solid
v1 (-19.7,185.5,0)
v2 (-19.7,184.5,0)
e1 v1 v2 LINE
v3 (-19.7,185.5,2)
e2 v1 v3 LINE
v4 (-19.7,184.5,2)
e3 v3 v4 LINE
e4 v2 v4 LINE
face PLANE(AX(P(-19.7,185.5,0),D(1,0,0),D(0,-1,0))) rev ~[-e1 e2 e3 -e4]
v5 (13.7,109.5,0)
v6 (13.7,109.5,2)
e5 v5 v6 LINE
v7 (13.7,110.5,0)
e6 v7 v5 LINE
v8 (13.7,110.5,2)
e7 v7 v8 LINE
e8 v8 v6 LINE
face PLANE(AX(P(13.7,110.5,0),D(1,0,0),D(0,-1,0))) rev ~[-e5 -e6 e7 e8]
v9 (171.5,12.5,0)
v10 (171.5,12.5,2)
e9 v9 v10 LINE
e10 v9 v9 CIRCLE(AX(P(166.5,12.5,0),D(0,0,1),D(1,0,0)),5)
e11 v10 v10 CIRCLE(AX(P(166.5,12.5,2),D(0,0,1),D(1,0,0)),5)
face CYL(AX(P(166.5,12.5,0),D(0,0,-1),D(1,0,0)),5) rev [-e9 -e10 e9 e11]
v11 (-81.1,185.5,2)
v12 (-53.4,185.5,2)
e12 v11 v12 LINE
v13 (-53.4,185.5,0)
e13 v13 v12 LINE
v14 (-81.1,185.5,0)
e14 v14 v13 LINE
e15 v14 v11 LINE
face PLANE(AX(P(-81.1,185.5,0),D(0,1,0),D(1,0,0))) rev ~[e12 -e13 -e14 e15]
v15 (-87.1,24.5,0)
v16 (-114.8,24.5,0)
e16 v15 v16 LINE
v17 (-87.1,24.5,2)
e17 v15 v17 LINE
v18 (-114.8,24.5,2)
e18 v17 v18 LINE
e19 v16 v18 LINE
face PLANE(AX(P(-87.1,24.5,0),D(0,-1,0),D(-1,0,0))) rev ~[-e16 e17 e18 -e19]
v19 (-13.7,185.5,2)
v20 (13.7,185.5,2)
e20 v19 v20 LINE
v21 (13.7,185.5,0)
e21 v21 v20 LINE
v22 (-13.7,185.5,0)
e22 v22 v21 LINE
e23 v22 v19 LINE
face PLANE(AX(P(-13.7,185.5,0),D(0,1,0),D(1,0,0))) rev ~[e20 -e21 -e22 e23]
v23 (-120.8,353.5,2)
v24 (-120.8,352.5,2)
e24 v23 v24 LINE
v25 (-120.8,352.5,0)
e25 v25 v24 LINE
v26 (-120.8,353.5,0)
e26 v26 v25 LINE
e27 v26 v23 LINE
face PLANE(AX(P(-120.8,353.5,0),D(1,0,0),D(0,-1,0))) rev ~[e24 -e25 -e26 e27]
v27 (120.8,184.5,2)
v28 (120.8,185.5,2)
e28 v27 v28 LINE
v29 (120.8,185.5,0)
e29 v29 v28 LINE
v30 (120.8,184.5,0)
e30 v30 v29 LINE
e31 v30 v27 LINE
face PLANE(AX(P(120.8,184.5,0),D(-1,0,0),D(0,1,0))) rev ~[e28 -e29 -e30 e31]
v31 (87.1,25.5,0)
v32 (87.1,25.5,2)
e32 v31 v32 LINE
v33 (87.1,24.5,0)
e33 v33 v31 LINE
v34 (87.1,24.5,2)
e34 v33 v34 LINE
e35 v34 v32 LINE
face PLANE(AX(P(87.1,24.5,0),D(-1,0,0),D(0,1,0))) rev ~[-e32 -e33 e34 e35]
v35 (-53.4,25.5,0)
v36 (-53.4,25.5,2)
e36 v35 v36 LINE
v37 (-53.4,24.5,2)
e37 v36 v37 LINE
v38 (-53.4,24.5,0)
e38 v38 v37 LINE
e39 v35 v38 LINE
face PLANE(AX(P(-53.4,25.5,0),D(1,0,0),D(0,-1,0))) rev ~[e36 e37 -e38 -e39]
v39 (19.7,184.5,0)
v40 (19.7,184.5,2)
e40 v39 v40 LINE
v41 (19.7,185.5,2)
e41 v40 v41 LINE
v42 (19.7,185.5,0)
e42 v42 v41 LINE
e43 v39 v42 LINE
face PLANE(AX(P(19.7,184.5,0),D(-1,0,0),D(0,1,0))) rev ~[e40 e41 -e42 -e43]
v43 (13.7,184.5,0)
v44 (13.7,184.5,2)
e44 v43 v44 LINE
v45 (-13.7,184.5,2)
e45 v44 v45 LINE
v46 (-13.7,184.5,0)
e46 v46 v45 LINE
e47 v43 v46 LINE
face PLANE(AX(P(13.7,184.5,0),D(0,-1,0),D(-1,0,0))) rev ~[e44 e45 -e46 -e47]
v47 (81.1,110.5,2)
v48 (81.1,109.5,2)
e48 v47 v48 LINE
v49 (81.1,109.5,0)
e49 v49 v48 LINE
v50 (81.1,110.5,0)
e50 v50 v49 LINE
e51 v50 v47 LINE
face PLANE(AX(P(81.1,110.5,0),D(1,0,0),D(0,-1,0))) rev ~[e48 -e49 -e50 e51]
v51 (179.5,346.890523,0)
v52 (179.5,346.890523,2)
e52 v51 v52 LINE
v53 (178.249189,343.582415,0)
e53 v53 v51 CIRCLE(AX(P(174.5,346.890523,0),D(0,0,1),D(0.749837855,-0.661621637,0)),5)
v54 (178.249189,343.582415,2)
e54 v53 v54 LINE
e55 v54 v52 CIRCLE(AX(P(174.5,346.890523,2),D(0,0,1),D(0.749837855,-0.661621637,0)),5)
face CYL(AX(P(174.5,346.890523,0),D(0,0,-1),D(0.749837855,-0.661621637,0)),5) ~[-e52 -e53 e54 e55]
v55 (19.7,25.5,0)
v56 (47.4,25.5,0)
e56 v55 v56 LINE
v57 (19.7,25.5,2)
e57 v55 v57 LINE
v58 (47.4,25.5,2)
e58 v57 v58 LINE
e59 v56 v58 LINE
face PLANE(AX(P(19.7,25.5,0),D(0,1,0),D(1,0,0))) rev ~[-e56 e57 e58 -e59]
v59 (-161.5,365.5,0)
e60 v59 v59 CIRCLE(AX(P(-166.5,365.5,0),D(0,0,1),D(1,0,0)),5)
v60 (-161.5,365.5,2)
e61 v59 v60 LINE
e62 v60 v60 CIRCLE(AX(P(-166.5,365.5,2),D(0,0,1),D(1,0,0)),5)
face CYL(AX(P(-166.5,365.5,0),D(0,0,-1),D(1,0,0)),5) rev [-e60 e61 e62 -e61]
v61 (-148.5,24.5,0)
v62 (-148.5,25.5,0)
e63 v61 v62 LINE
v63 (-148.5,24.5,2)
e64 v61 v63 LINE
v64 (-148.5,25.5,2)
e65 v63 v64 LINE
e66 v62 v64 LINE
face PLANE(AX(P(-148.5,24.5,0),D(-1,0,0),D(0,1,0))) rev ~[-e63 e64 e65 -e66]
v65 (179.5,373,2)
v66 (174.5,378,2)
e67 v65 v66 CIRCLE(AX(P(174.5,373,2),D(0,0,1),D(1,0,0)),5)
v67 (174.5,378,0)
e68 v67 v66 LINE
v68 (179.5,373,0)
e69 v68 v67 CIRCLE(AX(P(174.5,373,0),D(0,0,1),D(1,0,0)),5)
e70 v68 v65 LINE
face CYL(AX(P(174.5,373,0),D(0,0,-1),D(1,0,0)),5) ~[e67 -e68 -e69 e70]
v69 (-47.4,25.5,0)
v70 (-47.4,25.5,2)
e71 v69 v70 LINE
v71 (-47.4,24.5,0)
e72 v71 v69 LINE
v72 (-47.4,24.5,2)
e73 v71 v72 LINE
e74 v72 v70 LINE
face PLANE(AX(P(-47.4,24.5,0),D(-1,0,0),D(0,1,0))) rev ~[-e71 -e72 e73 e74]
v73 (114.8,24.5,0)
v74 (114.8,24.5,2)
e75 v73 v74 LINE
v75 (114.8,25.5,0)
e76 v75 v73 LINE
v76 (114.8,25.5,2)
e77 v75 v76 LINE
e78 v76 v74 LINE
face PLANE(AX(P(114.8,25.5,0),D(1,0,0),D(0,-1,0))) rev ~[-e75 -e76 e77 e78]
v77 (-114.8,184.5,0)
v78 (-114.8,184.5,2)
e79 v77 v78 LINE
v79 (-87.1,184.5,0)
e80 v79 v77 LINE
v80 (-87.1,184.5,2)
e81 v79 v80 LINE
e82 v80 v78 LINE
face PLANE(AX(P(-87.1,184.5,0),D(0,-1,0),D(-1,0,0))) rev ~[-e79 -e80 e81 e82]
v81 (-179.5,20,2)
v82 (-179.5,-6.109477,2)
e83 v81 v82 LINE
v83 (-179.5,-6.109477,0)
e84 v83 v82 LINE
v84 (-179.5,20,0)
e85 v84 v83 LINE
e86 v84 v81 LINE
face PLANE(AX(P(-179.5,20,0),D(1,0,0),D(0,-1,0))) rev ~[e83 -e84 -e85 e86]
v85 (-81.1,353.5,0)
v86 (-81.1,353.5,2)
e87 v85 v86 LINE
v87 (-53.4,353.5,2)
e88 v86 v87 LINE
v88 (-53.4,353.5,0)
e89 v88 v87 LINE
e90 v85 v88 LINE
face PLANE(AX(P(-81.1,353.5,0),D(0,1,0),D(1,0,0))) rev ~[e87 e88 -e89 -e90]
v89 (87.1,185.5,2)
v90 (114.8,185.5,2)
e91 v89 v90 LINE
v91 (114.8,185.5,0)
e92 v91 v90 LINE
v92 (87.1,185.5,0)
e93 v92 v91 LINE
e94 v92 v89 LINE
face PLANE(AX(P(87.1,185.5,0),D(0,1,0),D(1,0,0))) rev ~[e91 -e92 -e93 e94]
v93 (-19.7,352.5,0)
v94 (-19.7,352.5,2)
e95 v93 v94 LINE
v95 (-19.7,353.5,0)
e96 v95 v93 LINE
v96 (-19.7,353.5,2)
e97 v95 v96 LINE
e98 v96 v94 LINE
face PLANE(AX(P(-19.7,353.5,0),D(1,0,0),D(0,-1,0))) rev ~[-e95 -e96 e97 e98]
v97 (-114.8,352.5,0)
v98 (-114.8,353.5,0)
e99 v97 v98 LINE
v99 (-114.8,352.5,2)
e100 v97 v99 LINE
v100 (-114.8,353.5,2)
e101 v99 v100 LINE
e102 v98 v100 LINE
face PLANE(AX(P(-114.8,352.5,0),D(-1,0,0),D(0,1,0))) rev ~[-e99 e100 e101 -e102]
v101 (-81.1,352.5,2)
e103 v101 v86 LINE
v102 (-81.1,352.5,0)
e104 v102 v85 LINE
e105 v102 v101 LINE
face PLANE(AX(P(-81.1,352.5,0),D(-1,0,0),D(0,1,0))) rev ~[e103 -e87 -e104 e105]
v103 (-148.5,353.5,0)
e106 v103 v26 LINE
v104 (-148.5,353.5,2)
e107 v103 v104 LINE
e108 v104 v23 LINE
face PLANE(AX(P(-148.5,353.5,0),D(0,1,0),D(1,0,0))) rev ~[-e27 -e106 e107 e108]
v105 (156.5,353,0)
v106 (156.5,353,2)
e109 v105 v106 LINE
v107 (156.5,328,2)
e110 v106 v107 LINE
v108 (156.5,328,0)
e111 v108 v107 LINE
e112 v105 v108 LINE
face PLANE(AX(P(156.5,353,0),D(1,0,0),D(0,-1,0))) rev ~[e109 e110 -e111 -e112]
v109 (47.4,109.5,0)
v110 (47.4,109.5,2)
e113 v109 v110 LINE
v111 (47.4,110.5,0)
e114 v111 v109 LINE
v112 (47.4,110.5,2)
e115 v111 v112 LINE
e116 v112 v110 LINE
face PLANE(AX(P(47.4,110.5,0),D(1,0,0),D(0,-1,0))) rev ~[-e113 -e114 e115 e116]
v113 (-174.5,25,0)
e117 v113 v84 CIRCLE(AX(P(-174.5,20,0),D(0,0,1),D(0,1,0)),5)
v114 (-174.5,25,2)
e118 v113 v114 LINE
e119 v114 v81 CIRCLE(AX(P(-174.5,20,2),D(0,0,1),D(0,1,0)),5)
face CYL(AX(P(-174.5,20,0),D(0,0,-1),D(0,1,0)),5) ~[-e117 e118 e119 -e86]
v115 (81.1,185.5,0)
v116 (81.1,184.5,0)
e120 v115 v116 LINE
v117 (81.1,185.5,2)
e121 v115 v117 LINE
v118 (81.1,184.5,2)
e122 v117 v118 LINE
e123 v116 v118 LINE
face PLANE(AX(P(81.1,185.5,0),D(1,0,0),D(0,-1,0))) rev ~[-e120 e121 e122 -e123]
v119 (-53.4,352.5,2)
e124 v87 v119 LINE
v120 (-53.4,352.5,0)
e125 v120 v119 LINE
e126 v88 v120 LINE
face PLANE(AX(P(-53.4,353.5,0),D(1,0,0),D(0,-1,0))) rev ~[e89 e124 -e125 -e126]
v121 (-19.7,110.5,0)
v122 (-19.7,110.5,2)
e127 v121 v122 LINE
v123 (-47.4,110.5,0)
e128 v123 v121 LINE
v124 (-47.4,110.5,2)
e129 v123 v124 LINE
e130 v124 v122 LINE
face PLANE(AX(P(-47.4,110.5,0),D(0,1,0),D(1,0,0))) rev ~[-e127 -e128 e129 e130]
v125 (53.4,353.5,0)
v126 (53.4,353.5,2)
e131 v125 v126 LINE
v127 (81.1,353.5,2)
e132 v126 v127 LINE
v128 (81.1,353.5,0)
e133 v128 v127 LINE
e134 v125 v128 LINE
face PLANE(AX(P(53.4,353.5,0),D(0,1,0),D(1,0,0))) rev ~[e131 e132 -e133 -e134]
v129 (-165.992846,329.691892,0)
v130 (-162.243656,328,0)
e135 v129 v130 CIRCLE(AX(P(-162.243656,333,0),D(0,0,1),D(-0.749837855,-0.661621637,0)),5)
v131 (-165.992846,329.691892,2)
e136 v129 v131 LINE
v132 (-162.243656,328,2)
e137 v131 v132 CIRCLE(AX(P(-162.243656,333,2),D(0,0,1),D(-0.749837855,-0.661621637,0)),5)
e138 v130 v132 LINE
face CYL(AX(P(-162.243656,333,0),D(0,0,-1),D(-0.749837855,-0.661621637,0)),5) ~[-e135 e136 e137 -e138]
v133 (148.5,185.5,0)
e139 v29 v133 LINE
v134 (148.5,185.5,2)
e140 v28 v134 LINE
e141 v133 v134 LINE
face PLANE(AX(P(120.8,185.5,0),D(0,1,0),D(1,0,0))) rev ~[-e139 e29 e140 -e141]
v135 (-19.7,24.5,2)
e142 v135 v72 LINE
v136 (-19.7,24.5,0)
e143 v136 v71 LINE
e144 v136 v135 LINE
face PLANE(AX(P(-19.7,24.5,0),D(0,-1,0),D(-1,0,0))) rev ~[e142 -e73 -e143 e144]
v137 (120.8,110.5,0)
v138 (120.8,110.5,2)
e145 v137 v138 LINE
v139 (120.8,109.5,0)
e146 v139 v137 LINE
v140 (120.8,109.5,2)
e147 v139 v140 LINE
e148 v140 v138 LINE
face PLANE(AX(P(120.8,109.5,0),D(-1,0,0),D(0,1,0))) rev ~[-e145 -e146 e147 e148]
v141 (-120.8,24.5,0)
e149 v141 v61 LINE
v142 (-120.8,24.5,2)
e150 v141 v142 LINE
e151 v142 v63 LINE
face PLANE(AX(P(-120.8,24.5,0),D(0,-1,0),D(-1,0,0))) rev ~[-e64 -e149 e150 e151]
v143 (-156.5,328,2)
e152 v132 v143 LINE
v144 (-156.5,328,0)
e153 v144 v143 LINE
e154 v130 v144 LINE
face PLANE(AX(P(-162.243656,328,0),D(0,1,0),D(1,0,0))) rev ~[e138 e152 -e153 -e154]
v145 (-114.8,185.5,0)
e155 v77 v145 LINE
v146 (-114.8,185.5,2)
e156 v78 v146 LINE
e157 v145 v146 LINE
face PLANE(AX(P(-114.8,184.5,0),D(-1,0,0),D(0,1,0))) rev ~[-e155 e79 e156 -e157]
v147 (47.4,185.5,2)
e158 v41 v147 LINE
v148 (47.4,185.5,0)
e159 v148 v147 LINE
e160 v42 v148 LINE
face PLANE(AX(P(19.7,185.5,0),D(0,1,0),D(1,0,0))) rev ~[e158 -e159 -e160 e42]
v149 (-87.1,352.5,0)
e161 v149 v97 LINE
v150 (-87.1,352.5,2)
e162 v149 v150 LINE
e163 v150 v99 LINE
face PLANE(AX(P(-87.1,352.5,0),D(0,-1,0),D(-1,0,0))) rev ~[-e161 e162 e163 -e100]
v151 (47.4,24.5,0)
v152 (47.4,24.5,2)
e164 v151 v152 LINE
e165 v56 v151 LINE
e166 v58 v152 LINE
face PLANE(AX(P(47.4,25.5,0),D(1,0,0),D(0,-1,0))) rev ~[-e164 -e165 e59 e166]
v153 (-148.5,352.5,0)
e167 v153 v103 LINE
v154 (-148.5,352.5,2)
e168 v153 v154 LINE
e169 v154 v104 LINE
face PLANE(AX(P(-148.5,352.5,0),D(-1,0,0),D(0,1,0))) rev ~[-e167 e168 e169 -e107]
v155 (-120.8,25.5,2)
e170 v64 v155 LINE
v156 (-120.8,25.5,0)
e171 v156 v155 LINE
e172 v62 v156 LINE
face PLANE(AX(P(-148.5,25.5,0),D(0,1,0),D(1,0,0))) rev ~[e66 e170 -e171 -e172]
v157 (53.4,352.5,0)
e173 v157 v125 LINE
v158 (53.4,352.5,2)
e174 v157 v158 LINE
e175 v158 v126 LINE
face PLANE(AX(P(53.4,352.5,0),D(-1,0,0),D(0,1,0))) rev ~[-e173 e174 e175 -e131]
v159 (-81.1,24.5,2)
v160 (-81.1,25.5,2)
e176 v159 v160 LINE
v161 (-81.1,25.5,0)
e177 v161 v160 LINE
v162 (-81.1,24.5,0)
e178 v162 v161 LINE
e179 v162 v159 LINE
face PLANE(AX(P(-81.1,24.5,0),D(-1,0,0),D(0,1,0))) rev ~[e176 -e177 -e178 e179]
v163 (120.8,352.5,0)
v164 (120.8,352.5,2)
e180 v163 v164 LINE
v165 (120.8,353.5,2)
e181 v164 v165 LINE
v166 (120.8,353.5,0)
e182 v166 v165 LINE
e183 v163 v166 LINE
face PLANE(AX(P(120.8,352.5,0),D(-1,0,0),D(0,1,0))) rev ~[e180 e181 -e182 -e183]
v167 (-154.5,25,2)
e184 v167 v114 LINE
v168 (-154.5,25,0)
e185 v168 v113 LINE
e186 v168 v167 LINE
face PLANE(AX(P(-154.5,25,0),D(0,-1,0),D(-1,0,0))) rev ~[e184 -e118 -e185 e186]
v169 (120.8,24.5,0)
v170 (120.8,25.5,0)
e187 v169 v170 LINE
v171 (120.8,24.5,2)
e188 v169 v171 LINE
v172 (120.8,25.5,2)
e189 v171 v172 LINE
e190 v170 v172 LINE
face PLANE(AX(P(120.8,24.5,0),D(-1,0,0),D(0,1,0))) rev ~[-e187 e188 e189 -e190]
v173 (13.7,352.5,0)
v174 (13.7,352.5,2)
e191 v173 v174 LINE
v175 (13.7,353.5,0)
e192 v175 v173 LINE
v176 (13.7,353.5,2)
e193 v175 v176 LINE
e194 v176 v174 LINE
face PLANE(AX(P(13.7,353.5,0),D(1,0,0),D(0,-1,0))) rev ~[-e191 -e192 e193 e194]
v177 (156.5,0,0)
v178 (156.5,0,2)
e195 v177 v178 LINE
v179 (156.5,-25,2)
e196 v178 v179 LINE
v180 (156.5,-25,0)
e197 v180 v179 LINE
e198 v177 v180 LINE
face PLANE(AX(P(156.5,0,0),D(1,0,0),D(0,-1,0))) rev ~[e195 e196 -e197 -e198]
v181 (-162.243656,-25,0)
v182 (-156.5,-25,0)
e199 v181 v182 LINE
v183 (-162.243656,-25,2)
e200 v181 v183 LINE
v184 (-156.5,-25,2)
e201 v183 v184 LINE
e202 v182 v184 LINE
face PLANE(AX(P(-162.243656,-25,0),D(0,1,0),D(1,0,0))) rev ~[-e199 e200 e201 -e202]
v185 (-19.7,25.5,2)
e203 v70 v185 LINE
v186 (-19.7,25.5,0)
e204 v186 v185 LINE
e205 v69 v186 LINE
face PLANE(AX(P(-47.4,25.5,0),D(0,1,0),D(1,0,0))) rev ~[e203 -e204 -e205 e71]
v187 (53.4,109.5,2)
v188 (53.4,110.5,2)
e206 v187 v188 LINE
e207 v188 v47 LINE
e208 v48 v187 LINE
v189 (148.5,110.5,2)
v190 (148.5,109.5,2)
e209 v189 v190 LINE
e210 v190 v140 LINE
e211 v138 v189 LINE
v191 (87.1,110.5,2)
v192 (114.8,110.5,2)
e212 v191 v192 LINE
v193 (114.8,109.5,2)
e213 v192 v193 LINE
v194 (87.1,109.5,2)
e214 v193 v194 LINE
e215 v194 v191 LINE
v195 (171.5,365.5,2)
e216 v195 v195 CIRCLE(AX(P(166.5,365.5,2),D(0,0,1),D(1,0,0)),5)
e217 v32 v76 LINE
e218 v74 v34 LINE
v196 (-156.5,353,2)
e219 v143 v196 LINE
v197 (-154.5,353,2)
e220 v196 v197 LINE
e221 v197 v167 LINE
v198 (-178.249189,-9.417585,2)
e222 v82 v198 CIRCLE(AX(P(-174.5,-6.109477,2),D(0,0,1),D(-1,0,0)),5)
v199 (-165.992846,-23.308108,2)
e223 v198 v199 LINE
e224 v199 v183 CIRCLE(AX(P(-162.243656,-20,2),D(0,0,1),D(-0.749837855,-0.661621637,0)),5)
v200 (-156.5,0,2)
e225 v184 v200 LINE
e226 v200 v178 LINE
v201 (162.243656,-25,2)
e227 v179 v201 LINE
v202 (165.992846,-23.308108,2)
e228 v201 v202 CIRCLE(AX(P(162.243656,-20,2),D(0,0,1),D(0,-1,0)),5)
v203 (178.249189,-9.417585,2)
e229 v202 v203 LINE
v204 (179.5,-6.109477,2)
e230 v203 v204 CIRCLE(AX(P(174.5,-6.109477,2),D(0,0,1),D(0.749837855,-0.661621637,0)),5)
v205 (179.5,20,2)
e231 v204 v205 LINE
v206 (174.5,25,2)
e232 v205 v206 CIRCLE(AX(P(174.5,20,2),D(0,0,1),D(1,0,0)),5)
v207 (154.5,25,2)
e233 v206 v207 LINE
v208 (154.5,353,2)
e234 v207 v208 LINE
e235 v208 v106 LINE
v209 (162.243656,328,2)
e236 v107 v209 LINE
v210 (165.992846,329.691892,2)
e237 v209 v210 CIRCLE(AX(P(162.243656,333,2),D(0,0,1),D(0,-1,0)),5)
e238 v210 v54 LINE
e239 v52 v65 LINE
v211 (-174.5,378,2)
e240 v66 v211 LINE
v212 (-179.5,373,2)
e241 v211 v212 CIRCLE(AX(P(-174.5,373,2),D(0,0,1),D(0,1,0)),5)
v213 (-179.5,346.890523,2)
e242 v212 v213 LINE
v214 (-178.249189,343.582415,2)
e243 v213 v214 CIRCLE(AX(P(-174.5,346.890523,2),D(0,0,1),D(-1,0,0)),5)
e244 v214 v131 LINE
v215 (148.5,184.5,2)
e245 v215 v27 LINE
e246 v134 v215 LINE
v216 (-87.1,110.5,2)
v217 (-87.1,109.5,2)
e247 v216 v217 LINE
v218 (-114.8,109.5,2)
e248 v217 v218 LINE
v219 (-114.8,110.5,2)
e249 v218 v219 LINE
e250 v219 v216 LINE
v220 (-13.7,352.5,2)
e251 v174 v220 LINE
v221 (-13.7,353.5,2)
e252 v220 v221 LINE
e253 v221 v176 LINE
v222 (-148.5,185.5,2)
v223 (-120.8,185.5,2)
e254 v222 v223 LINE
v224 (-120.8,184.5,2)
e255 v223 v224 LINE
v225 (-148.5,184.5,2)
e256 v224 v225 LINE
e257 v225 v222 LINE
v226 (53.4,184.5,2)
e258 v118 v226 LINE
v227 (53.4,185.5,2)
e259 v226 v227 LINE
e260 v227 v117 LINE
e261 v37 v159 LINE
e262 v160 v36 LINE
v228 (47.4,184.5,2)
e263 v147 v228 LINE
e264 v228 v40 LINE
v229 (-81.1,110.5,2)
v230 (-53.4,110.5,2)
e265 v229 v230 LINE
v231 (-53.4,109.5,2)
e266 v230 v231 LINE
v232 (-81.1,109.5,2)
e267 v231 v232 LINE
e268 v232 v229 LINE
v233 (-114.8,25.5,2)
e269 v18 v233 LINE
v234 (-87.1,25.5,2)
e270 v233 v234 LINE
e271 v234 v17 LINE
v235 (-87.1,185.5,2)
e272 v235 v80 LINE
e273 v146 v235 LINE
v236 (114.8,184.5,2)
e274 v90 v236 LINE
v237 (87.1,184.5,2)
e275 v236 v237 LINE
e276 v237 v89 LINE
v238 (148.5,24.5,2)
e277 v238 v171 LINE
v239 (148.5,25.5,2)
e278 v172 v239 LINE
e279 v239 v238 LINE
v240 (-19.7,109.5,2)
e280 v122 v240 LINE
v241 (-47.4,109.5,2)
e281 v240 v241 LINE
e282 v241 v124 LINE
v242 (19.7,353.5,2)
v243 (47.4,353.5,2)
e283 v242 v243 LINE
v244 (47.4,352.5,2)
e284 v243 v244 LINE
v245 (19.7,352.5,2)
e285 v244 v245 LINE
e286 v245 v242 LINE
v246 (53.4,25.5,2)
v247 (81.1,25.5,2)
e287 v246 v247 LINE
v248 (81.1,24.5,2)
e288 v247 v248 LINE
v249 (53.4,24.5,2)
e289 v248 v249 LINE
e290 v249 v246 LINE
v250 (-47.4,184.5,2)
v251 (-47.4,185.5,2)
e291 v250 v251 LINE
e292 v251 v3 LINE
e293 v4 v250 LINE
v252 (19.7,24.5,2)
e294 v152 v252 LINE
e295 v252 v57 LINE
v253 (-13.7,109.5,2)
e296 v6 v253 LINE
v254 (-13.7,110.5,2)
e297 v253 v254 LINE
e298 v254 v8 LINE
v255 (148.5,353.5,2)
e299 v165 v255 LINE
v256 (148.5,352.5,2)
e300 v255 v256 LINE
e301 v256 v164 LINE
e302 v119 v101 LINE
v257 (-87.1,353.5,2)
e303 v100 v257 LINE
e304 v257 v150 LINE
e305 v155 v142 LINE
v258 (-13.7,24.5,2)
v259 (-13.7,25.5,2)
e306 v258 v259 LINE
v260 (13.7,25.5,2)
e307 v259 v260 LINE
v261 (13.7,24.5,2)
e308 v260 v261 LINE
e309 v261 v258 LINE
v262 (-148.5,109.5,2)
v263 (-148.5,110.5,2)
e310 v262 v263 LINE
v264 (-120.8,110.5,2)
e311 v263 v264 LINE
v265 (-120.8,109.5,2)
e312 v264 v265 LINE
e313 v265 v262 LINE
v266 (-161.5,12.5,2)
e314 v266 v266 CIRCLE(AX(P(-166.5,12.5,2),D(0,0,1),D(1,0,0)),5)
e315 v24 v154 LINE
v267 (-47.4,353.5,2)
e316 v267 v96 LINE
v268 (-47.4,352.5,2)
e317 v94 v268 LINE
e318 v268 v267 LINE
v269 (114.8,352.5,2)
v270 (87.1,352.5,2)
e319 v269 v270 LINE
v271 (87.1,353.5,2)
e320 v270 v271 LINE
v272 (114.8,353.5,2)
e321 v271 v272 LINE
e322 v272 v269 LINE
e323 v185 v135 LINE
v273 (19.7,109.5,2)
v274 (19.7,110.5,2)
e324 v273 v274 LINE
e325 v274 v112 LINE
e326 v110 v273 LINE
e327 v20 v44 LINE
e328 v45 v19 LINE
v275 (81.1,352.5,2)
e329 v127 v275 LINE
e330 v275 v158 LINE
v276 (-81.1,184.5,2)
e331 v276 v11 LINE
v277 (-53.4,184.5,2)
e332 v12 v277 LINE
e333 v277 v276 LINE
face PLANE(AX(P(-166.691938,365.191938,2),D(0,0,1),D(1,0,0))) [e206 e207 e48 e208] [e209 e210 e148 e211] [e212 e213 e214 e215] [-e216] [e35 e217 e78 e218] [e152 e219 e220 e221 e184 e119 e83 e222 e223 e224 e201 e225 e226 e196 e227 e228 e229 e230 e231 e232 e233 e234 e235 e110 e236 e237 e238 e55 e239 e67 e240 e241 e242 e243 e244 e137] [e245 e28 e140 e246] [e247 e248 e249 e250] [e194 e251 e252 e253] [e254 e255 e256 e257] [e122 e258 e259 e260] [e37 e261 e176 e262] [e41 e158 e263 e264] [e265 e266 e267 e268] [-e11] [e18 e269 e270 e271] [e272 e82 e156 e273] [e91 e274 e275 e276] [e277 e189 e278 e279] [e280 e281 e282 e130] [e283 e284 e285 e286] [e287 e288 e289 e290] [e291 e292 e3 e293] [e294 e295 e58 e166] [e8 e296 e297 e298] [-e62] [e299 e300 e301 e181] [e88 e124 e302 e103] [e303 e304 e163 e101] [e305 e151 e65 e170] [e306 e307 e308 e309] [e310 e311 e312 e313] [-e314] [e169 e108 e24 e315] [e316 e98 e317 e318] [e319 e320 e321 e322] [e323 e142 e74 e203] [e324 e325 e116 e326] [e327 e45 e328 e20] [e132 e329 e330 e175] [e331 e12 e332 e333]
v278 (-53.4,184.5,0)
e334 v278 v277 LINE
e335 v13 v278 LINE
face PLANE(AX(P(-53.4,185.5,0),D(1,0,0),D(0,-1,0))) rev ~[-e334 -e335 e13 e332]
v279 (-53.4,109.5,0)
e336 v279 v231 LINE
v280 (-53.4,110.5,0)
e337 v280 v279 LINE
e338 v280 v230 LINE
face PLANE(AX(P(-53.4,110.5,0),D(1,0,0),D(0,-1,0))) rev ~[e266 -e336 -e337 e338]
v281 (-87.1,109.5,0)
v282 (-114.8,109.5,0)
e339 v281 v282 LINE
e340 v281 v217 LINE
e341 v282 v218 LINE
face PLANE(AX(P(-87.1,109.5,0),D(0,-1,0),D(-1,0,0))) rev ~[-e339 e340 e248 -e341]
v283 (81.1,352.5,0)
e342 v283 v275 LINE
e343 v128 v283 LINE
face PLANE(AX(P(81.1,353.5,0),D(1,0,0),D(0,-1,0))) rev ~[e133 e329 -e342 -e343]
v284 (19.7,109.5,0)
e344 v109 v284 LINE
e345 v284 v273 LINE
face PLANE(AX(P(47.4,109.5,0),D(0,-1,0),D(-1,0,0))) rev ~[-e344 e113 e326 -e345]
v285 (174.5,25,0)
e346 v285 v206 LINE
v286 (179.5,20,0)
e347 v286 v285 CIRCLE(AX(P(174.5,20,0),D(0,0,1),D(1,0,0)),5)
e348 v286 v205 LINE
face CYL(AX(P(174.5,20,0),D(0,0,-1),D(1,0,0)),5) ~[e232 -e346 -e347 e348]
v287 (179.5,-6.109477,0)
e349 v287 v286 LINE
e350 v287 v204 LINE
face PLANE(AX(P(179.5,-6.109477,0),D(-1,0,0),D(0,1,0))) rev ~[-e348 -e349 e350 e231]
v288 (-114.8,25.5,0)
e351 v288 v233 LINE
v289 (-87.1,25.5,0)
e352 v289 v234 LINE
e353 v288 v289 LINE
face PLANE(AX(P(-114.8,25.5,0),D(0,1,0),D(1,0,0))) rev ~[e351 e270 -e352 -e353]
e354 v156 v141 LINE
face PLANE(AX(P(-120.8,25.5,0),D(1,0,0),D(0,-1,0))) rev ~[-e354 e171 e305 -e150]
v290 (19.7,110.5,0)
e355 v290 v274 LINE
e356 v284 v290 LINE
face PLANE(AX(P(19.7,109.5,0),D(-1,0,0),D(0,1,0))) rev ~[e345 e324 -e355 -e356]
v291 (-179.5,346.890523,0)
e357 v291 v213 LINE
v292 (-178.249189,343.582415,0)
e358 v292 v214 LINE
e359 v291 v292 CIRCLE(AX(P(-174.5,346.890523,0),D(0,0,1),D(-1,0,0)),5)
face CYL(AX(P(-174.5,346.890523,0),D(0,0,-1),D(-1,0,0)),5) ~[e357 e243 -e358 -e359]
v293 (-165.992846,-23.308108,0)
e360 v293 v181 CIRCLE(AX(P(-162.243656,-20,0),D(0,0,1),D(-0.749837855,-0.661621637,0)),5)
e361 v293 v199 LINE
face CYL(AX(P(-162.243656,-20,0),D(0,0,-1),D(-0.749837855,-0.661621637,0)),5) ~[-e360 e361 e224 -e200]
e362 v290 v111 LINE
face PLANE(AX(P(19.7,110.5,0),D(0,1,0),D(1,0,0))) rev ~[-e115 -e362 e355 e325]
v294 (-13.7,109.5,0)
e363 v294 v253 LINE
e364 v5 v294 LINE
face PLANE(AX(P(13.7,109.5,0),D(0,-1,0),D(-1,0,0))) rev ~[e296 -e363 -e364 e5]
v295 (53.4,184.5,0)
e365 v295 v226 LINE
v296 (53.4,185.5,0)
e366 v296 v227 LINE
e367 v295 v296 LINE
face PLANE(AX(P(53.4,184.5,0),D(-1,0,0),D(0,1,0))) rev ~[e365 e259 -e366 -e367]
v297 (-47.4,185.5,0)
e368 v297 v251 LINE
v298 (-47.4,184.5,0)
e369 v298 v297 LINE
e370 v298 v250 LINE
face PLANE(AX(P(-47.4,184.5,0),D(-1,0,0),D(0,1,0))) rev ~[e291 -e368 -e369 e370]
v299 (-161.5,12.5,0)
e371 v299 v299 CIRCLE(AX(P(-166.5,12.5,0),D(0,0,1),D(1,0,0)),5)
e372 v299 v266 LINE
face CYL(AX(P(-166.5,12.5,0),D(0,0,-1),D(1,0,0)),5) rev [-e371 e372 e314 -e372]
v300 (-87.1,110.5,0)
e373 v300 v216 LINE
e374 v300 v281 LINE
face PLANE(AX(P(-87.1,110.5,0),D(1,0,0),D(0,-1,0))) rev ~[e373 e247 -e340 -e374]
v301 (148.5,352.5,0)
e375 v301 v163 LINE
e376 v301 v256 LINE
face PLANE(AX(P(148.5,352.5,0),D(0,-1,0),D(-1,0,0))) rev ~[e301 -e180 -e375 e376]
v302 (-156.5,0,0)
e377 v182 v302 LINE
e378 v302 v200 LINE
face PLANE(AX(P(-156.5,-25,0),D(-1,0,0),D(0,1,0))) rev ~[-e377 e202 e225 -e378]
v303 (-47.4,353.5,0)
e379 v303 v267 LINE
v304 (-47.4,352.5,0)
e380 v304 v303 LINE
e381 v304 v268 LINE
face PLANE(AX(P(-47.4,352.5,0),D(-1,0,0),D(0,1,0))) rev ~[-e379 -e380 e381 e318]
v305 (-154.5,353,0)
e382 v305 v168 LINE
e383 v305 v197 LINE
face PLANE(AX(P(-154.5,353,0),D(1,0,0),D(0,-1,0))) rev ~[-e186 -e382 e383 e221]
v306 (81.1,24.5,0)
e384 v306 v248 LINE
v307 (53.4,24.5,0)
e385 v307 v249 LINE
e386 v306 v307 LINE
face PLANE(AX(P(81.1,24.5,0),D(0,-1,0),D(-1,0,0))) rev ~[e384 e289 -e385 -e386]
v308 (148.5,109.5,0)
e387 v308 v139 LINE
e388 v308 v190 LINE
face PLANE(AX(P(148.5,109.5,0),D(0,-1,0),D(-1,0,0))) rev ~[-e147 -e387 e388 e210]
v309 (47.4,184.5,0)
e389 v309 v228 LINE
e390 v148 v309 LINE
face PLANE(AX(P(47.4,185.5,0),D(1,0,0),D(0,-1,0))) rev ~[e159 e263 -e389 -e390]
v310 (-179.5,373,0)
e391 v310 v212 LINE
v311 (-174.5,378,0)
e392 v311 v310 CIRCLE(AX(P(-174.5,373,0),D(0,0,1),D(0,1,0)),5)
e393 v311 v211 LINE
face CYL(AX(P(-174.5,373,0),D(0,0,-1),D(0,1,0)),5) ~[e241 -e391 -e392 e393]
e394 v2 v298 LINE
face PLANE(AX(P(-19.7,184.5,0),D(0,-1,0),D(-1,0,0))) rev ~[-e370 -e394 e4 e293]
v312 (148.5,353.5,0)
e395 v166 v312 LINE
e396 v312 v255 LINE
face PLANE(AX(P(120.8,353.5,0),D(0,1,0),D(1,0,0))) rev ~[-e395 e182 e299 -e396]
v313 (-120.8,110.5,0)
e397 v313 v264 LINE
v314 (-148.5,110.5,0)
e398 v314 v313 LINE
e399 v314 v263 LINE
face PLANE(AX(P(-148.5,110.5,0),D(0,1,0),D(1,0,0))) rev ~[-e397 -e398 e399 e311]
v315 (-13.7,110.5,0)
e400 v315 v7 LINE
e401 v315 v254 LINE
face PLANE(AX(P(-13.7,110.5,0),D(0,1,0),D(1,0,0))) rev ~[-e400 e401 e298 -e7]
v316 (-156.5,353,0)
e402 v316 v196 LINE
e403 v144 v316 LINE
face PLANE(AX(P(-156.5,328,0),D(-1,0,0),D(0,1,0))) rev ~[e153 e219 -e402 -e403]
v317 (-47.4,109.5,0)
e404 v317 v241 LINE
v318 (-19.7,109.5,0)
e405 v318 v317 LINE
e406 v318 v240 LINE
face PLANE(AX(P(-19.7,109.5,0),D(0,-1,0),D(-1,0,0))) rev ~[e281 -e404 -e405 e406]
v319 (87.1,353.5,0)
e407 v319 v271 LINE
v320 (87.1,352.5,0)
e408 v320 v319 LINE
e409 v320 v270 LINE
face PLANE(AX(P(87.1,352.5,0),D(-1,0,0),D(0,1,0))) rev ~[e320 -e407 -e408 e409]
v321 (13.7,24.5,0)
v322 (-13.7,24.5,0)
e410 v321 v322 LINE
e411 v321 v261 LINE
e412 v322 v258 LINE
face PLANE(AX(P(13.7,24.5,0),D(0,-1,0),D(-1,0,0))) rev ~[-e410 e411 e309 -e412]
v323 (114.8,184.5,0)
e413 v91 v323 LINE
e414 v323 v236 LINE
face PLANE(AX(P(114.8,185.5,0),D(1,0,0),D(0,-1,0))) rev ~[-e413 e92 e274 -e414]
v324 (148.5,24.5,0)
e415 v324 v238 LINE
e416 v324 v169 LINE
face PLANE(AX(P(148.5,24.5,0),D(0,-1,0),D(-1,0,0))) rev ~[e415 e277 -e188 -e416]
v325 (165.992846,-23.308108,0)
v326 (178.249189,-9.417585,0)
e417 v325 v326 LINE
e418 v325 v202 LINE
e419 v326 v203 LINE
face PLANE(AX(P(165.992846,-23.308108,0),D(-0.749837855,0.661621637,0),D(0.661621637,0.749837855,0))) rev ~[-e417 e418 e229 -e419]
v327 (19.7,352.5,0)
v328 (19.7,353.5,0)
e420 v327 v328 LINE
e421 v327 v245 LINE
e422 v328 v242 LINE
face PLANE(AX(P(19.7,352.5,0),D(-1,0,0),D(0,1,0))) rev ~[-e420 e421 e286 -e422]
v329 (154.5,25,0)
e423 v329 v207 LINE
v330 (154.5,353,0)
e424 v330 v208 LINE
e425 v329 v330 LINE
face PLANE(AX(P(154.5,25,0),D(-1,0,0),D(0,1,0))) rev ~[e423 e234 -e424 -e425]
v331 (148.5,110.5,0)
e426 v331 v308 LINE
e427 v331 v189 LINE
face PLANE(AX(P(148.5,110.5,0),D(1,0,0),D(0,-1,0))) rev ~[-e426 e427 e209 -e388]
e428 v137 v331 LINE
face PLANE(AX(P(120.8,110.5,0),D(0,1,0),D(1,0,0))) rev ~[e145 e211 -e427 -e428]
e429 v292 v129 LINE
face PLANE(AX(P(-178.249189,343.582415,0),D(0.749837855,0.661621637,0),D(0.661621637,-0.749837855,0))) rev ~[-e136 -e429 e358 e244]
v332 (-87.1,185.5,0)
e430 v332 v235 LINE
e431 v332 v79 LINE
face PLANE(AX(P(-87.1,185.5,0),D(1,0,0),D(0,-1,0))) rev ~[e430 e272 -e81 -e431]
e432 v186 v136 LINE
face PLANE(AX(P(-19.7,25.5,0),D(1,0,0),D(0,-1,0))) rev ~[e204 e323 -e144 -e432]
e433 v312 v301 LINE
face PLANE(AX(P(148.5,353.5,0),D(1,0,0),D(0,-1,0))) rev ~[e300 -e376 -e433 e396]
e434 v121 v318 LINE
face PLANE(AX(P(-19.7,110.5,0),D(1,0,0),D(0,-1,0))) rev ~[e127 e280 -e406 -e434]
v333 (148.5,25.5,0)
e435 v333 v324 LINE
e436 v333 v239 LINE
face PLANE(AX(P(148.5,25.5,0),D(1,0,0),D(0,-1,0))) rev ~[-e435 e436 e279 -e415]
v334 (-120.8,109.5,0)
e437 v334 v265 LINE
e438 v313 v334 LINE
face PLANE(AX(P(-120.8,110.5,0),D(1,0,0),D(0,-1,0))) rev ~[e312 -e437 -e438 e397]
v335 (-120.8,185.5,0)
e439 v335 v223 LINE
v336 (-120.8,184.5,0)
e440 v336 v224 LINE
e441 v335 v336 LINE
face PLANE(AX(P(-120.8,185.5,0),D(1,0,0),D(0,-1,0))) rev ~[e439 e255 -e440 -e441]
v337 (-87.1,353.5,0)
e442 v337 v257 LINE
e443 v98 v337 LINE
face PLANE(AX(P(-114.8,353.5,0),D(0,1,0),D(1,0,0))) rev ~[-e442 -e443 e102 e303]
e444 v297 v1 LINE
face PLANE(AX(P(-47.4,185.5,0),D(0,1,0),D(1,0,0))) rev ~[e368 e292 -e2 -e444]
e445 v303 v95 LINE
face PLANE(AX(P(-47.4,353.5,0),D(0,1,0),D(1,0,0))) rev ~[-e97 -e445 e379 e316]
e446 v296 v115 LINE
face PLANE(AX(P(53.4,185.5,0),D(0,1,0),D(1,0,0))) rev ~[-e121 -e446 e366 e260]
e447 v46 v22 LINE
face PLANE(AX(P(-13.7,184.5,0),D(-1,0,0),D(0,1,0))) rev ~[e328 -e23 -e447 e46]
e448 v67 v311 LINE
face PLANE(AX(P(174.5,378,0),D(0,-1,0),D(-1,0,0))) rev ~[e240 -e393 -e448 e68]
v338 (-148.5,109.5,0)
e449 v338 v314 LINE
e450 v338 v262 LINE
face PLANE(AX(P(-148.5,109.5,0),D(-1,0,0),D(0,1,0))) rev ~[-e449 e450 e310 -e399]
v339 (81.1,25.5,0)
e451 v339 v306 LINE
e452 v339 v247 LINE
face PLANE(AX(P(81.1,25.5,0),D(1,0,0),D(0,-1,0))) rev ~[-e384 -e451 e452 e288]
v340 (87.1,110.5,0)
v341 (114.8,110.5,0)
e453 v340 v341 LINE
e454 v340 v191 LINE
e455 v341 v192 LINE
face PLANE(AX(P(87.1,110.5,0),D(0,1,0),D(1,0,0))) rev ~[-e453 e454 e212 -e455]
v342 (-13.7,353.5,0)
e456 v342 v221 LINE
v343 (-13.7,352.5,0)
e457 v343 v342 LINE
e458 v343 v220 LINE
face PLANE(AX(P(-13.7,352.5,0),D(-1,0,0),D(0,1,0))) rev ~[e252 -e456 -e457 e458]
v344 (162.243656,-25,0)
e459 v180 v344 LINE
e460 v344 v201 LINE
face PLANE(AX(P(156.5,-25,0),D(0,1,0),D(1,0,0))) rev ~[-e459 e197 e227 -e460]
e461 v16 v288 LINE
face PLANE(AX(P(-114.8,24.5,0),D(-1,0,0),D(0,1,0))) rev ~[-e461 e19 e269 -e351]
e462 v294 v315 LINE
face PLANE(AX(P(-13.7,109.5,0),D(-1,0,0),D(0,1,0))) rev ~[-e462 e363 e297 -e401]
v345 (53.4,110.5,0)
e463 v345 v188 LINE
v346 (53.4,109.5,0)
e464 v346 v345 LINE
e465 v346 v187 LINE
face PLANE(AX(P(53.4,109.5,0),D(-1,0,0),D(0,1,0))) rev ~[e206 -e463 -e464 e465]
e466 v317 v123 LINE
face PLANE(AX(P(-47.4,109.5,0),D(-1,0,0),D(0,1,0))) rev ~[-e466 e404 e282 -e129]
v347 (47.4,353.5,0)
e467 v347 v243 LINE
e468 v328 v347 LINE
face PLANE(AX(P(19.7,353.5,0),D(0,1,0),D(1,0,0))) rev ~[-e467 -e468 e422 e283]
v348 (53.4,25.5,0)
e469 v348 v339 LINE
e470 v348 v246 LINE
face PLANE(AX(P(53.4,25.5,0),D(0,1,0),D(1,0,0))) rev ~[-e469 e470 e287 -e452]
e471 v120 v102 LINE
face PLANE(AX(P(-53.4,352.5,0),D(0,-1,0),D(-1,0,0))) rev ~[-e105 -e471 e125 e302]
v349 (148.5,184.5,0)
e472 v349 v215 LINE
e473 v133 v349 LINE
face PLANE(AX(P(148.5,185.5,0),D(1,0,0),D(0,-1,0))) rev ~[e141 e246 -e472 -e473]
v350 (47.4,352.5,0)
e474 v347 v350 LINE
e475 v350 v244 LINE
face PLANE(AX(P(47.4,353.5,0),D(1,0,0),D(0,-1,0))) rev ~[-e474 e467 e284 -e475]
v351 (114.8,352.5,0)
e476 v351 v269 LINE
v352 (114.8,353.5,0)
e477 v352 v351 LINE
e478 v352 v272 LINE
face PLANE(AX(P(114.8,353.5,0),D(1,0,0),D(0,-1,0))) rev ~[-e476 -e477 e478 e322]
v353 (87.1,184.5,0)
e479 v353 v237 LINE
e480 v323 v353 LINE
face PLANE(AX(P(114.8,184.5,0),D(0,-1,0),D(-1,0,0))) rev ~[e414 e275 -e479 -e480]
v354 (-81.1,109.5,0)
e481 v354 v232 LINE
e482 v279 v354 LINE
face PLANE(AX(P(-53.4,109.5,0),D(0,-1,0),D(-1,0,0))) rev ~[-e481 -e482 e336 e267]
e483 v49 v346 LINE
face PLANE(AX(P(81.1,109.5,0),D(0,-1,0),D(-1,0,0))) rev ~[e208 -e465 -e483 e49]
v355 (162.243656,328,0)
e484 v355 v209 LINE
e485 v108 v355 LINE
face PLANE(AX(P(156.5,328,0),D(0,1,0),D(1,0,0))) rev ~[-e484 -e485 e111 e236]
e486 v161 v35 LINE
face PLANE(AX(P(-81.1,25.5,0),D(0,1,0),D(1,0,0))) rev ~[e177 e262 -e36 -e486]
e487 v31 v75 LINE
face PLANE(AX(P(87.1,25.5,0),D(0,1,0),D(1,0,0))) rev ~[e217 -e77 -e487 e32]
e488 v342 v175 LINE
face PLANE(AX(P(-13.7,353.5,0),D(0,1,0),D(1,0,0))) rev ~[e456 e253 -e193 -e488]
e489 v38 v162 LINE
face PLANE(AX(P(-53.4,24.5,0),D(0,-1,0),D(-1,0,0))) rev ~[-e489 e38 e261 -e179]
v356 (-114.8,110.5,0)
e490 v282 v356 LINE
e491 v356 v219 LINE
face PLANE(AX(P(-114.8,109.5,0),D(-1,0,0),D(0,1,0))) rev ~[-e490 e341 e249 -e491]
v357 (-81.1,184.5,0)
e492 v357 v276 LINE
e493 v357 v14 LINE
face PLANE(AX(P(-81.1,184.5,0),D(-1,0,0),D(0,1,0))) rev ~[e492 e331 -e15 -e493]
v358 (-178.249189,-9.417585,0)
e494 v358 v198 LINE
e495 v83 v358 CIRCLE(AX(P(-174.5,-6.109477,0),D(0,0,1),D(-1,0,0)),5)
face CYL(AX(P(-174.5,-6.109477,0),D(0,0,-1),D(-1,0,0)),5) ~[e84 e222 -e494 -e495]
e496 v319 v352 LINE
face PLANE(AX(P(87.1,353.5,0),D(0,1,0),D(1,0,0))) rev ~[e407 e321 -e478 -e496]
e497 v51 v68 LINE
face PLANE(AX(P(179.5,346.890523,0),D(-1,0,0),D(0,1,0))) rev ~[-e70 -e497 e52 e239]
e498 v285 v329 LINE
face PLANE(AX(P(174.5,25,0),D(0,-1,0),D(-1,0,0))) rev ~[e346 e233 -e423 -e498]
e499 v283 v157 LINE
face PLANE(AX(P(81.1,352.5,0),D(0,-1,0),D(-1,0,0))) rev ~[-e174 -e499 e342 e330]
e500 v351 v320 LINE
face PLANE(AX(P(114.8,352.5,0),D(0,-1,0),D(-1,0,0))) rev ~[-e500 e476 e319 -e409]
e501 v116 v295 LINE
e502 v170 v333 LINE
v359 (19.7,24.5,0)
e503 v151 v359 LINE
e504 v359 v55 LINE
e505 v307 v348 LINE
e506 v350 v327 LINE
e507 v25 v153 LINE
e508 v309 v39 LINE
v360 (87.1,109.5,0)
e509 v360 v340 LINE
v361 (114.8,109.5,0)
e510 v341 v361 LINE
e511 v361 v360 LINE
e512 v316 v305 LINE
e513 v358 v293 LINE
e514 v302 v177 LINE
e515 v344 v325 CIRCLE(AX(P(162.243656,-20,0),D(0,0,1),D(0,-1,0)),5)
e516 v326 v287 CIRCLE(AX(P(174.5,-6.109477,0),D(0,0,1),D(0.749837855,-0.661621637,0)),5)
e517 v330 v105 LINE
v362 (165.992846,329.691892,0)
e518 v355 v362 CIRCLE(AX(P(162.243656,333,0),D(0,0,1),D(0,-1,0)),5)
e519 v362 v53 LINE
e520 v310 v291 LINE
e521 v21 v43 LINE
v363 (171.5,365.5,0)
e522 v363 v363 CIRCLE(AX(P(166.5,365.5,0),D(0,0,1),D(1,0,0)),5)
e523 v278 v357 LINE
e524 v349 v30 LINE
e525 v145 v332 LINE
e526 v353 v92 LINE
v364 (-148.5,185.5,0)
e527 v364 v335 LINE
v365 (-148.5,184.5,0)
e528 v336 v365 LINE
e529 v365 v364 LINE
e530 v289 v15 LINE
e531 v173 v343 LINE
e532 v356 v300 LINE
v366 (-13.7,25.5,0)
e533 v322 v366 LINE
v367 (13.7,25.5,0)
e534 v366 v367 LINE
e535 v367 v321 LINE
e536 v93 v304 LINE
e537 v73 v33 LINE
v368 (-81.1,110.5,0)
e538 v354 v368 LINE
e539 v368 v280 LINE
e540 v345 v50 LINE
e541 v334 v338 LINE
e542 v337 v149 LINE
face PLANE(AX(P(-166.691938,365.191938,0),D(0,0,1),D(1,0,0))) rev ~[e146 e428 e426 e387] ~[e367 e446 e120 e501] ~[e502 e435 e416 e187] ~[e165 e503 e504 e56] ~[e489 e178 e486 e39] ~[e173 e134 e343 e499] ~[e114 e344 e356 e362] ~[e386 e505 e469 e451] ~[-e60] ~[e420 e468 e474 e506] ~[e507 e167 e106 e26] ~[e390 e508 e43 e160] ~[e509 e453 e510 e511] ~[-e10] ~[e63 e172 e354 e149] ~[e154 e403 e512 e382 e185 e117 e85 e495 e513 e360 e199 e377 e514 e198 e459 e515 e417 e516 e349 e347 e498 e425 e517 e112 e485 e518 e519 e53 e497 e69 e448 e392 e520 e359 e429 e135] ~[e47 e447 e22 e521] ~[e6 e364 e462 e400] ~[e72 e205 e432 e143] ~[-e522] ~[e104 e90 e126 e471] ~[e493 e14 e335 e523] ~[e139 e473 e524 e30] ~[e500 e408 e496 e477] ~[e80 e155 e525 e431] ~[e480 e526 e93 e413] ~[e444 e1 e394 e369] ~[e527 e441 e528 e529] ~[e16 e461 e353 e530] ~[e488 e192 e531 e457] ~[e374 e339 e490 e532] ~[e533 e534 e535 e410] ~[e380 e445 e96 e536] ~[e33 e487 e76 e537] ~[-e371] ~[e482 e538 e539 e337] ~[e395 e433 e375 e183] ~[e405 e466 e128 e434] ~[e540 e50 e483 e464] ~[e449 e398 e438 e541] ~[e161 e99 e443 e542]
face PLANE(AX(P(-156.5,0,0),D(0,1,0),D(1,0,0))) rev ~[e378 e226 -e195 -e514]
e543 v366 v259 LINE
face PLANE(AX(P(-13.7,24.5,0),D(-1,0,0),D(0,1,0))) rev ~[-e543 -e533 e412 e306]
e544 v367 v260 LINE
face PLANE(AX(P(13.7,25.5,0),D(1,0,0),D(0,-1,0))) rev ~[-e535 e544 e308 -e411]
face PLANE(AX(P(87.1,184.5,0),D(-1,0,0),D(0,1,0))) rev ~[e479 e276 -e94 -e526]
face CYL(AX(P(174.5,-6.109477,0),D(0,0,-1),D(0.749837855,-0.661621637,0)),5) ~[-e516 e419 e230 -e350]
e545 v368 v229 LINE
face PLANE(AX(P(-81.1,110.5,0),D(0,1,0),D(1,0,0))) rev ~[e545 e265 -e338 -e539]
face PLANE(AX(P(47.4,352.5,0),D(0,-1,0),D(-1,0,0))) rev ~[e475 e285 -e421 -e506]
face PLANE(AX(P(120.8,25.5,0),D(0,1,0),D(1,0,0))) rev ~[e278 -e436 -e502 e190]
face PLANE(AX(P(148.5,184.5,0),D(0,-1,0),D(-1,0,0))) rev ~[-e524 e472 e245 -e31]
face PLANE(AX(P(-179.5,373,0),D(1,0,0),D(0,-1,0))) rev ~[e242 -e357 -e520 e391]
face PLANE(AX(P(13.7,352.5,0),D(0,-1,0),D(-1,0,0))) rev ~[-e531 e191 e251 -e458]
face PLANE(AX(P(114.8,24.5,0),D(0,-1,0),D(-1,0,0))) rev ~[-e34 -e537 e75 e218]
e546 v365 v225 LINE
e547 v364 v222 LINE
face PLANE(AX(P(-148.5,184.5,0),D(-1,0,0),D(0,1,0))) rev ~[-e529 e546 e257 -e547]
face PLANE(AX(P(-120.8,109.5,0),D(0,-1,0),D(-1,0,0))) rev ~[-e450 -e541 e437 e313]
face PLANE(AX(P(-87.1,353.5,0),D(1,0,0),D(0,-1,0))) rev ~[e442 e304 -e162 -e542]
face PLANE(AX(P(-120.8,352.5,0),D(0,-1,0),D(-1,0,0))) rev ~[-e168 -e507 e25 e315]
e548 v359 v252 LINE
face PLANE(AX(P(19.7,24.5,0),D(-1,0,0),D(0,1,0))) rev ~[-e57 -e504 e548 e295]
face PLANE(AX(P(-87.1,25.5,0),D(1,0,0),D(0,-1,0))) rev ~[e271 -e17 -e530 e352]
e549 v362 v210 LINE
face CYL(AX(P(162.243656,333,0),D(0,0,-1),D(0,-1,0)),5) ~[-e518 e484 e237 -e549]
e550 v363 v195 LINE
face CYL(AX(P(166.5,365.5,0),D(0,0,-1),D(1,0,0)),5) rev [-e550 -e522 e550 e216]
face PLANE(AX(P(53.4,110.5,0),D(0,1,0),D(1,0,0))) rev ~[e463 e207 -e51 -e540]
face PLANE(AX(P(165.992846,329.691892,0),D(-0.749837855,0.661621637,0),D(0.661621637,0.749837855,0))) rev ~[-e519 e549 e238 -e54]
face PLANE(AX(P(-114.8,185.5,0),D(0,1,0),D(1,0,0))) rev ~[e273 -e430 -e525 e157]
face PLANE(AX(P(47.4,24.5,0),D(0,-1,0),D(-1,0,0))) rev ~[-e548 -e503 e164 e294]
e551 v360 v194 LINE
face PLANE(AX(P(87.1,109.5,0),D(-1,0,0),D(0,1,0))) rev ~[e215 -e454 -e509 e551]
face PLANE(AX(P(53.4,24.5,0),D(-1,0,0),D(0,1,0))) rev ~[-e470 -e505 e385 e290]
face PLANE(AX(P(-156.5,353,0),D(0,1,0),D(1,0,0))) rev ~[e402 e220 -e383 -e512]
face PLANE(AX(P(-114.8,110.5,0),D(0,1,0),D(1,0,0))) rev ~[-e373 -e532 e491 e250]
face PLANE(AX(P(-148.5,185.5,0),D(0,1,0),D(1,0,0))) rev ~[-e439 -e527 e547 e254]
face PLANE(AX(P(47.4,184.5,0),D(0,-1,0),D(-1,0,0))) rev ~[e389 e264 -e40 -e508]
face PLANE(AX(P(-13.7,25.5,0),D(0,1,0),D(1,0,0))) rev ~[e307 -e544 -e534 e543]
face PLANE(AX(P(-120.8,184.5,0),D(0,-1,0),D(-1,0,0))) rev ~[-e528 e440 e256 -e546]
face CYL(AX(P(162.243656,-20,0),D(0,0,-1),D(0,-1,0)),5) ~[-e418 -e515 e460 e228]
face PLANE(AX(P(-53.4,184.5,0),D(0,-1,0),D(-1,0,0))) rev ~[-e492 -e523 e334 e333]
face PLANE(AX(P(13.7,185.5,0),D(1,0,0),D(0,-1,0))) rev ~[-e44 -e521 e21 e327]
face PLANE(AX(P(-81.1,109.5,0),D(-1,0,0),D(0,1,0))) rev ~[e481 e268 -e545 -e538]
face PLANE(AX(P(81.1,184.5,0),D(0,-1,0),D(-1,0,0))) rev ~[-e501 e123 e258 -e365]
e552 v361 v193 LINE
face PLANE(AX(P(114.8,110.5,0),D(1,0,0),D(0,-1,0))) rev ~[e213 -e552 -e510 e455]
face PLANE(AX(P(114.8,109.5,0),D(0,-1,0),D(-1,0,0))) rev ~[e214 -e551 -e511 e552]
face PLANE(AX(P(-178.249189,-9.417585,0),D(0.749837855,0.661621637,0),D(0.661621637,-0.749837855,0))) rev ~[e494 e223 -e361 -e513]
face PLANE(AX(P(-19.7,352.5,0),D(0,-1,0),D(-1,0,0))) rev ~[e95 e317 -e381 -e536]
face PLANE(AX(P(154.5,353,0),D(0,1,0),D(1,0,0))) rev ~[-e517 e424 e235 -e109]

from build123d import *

# Parameters (mm, degrees)
F0_R     = 5
F1_DEPTH = 2


with BuildPart() as f1:
    # F0 (on Top) → F1 (new body)
    with BuildSketch(Plane.XY):
        with BuildLine():
            Line((-156.5, 353), (-154.5, 353))
            Line((-154.5, 353), (-154.5, 378))
            Line((-154.5, 378), (-174.5, 378))
            ThreePointArc((-174.5, 378), (-178.0355339059, 376.5355339059), (-179.5, 373))
            Line((-179.5, 373), (-179.5, 353))
            Line((-179.5, 353), (-156.5, 353))
        make_face()
        with Locations((-166.5, 365.5)):
            Circle(F0_R, mode=Mode.SUBTRACT)
        with BuildLine():
            Line((-156.5, 328), (-156.5, 353))
            Line((-156.5, 353), (-179.5, 353))
            Line((-179.5, 353), (-179.5, 346.8905226992))
            ThreePointArc((-179.5, 346.8905226992), (-179.1768550536, 345.1221825713), (-178.2491892768, 343.5824145137))
            Line((-178.2491892768, 343.5824145137), (-165.9928457187, 329.6918918146))
            ThreePointArc((-165.9928457187, 329.6918918146), (-164.300287069, 328.4425587811), (-162.2436564419, 328))
            Line((-162.2436564419, 328), (-156.5, 328))
        make_face()
        Polygon((-154.5, 378), (-154.5, 353), (-148.5, 353), (-148.5, 353.5), (-120.8, 353.5), (-120.8, 353), (-114.8, 353), (-114.8, 353.5), (-87.1, 353.5), (-87.1, 353), (-81.1, 353), (-81.1, 353.5), (-53.4, 353.5), (-53.4, 353), (-47.4, 353), (-47.4, 353.5), (-19.7, 353.5), (-19.7, 353), (-13.7, 353), (-13.7, 353.5), (0, 353.5), (0, 378), align=None)
        Polygon((-154.5, 353), (-154.5, 110), (-148.5, 110), (-148.5, 110.5), (-120.8, 110.5), (-120.8, 110), (-114.8, 110), (-114.8, 110.5), (-87.1, 110.5), (-87.1, 110), (-81.1, 110), (-81.1, 110.5), (-53.4, 110.5), (-53.4, 110), (-47.4, 110), (-47.4, 110.5), (-19.7, 110.5), (-19.7, 110), (-13.7, 110), (-13.7, 110.5), (0, 110.5), (0, 184.5), (-13.7, 184.5), (-13.7, 185), (-13.7, 185.5), (0, 185.5), (0, 352.5), (-13.7, 352.5), (-13.7, 353), (-19.7, 353), (-19.7, 352.5), (-47.4, 352.5), (-47.4, 353), (-53.4, 353), (-53.4, 352.5), (-81.1, 352.5), (-81.1, 353), (-87.1, 353), (-87.1, 352.5), (-114.8, 352.5), (-114.8, 353), (-120.8, 353), (-120.8, 352.5), (-148.5, 352.5), (-148.5, 353), align=None)
        Polygon((-120.8, 185.5), (-120.8, 185), (-120.8, 184.5), (-148.5, 184.5), (-148.5, 185), (-148.5, 185.5), align=None, mode=Mode.SUBTRACT)
        Polygon((-87.1, 185.5), (-87.1, 185), (-87.1, 184.5), (-114.8, 184.5), (-114.8, 185), (-114.8, 185.5), align=None, mode=Mode.SUBTRACT)
        Polygon((-53.4, 185.5), (-53.4, 185), (-53.4, 184.5), (-81.1, 184.5), (-81.1, 185), (-81.1, 185.5), align=None, mode=Mode.SUBTRACT)
        Polygon((-19.7, 185.5), (-19.7, 185), (-19.7, 184.5), (-47.4, 184.5), (-47.4, 185), (-47.4, 185.5), align=None, mode=Mode.SUBTRACT)
        Polygon((148.5, 353), (154.5, 353), (154.5, 378), (0, 378), (0, 353.5), (13.7, 353.5), (13.7, 353), (19.7, 353), (19.7, 353.5), (47.4, 353.5), (47.4, 353), (53.4, 353), (53.4, 353.5), (81.1, 353.5), (81.1, 353), (87.1, 353), (87.1, 353.5), (114.8, 353.5), (114.8, 353), (120.8, 353), (120.8, 353.5), (148.5, 353.5), align=None)
        Polygon((148.5, 110), (154.5, 110), (154.5, 353), (148.5, 353), (148.5, 352.5), (120.8, 352.5), (120.8, 353), (114.8, 353), (114.8, 352.5), (87.1, 352.5), (87.1, 353), (81.1, 353), (81.1, 352.5), (53.4, 352.5), (53.4, 353), (47.4, 353), (47.4, 352.5), (19.7, 352.5), (19.7, 353), (13.7, 353), (13.7, 352.5), (0, 352.5), (0, 185.5), (13.7, 185.5), (13.7, 185), (13.7, 184.5), (0, 184.5), (0, 110.5), (13.7, 110.5), (13.7, 110), (19.7, 110), (19.7, 110.5), (47.4, 110.5), (47.4, 110), (53.4, 110), (53.4, 110.5), (81.1, 110.5), (81.1, 110), (87.1, 110), (87.1, 110.5), (114.8, 110.5), (114.8, 110), (120.8, 110), (120.8, 110.5), (148.5, 110.5), align=None)
        Polygon((19.7, 184.5), (19.7, 185), (19.7, 185.5), (47.4, 185.5), (47.4, 185), (47.4, 184.5), align=None, mode=Mode.SUBTRACT)
        Polygon((53.4, 184.5), (53.4, 185), (53.4, 185.5), (81.1, 185.5), (81.1, 185), (81.1, 184.5), align=None, mode=Mode.SUBTRACT)
        Polygon((87.1, 184.5), (87.1, 185), (87.1, 185.5), (114.8, 185.5), (114.8, 185), (114.8, 184.5), align=None, mode=Mode.SUBTRACT)
        Polygon((120.8, 184.5), (120.8, 185), (120.8, 185.5), (148.5, 185.5), (148.5, 185), (148.5, 184.5), align=None, mode=Mode.SUBTRACT)
        with BuildLine():
            Line((154.5, 378), (154.5, 353))
            Line((154.5, 353), (156.5, 353))
            Line((156.5, 353), (179.5, 353))
            Line((179.5, 353), (179.5, 373))
            ThreePointArc((179.5, 373), (178.0355339059, 376.5355339059), (174.5, 378))
            Line((174.5, 378), (154.5, 378))
        make_face()
        with Locations((166.5, 365.5)):
            Circle(F0_R, mode=Mode.SUBTRACT)
        with BuildLine():
            Line((179.5, 353), (156.5, 353))
            Line((156.5, 353), (156.5, 328))
            Line((156.5, 328), (162.2436564419, 328))
            ThreePointArc((162.2436564419, 328), (164.300287069, 328.4425587811), (165.9928457187, 329.6918918146))
            Line((165.9928457187, 329.6918918146), (178.2491892768, 343.5824145137))
            ThreePointArc((178.2491892768, 343.5824145137), (179.1768550536, 345.1221825713), (179.5, 346.8905226992))
            Line((179.5, 346.8905226992), (179.5, 353))
        make_face()
        with BuildLine():
            Line((-156.5, -25), (-156.5, 0))
            Line((-156.5, 0), (-179.5, 0))
            Line((-179.5, 0), (-179.5, -6.1094773008))
            ThreePointArc((-179.5, -6.1094773008), (-179.1768550536, -7.8778174287), (-178.2491892768, -9.4175854863))
            Line((-178.2491892768, -9.4175854863), (-165.9928457187, -23.3081081854))
            ThreePointArc((-165.9928457187, -23.3081081854), (-164.300287069, -24.5574412189), (-162.2436564419, -25))
            Line((-162.2436564419, -25), (-156.5, -25))
        make_face()
        with BuildLine():
            Line((-156.5, 0), (-154.5, 0))
            Line((-154.5, 0), (-154.5, 25))
            Line((-154.5, 25), (-174.5, 25))
            ThreePointArc((-174.5, 25), (-178.0355339059, 23.5355339059), (-179.5, 20))
            Line((-179.5, 20), (-179.5, 0))
            Line((-179.5, 0), (-156.5, 0))
        make_face()
        with Locations((-166.5, 12.5)):
            Circle(F0_R, mode=Mode.SUBTRACT)
        Polygon((-154.5, 0), (0, 0), (0, 24.5), (-13.7, 24.5), (-13.7, 25), (-19.7, 25), (-19.7, 24.5), (-47.4, 24.5), (-47.4, 25), (-53.4, 25), (-53.4, 24.5), (-81.1, 24.5), (-81.1, 25), (-87.1, 25), (-87.1, 24.5), (-114.8, 24.5), (-114.8, 25), (-120.8, 25), (-120.8, 24.5), (-148.5, 24.5), (-148.5, 25), (-154.5, 25), align=None)
        Polygon((-154.5, 110), (-154.5, 25), (-148.5, 25), (-148.5, 25.5), (-120.8, 25.5), (-120.8, 25), (-114.8, 25), (-114.8, 25.5), (-87.1, 25.5), (-87.1, 25), (-81.1, 25), (-81.1, 25.5), (-53.4, 25.5), (-53.4, 25), (-47.4, 25), (-47.4, 25.5), (-19.7, 25.5), (-19.7, 25), (-13.7, 25), (-13.7, 25.5), (0, 25.5), (0, 109.5), (-13.7, 109.5), (-13.7, 110), (-19.7, 110), (-19.7, 109.5), (-47.4, 109.5), (-47.4, 110), (-53.4, 110), (-53.4, 109.5), (-81.1, 109.5), (-81.1, 110), (-87.1, 110), (-87.1, 109.5), (-114.8, 109.5), (-114.8, 110), (-120.8, 110), (-120.8, 109.5), (-148.5, 109.5), (-148.5, 110), align=None)
        Polygon((148.5, 25), (154.5, 25), (154.5, 110), (148.5, 110), (148.5, 109.5), (120.8, 109.5), (120.8, 110), (114.8, 110), (114.8, 109.5), (87.1, 109.5), (87.1, 110), (81.1, 110), (81.1, 109.5), (53.4, 109.5), (53.4, 110), (47.4, 110), (47.4, 109.5), (19.7, 109.5), (19.7, 110), (13.7, 110), (13.7, 109.5), (0, 109.5), (0, 25.5), (13.7, 25.5), (13.7, 25), (19.7, 25), (19.7, 25.5), (47.4, 25.5), (47.4, 25), (53.4, 25), (53.4, 25.5), (81.1, 25.5), (81.1, 25), (87.1, 25), (87.1, 25.5), (114.8, 25.5), (114.8, 25), (120.8, 25), (120.8, 25.5), (148.5, 25.5), align=None)
        Polygon((0, 24.5), (0, 0), (154.5, 0), (154.5, 25), (148.5, 25), (148.5, 24.5), (120.8, 24.5), (120.8, 25), (114.8, 25), (114.8, 24.5), (87.1, 24.5), (87.1, 25), (81.1, 25), (81.1, 24.5), (53.4, 24.5), (53.4, 25), (47.4, 25), (47.4, 24.5), (19.7, 24.5), (19.7, 25), (13.7, 25), (13.7, 24.5), align=None)
        with BuildLine():
            Line((154.5, 25), (154.5, 0))
            Line((154.5, 0), (156.5, 0))
            Line((156.5, 0), (179.5, 0))
            Line((179.5, 0), (179.5, 20))
            ThreePointArc((179.5, 20), (178.0355339059, 23.5355339059), (174.5, 25))
            Line((174.5, 25), (154.5, 25))
        make_face()
        with Locations((166.5, 12.5)):
            Circle(F0_R, mode=Mode.SUBTRACT)
        with BuildLine():
            Line((179.5, 0), (156.5, 0))
            Line((156.5, 0), (156.5, -25))
            Line((156.5, -25), (162.2436564419, -25))
            ThreePointArc((162.2436564419, -25), (164.300287069, -24.5574412189), (165.9928457187, -23.3081081854))
            Line((165.9928457187, -23.3081081854), (178.2491892768, -9.4175854863))
            ThreePointArc((178.2491892768, -9.4175854863), (179.1768550536, -7.8778174287), (179.5, -6.1094773008))
            Line((179.5, -6.1094773008), (179.5, 0))
        make_face()
    extrude(amount=F1_DEPTH)


solid = f1.part
